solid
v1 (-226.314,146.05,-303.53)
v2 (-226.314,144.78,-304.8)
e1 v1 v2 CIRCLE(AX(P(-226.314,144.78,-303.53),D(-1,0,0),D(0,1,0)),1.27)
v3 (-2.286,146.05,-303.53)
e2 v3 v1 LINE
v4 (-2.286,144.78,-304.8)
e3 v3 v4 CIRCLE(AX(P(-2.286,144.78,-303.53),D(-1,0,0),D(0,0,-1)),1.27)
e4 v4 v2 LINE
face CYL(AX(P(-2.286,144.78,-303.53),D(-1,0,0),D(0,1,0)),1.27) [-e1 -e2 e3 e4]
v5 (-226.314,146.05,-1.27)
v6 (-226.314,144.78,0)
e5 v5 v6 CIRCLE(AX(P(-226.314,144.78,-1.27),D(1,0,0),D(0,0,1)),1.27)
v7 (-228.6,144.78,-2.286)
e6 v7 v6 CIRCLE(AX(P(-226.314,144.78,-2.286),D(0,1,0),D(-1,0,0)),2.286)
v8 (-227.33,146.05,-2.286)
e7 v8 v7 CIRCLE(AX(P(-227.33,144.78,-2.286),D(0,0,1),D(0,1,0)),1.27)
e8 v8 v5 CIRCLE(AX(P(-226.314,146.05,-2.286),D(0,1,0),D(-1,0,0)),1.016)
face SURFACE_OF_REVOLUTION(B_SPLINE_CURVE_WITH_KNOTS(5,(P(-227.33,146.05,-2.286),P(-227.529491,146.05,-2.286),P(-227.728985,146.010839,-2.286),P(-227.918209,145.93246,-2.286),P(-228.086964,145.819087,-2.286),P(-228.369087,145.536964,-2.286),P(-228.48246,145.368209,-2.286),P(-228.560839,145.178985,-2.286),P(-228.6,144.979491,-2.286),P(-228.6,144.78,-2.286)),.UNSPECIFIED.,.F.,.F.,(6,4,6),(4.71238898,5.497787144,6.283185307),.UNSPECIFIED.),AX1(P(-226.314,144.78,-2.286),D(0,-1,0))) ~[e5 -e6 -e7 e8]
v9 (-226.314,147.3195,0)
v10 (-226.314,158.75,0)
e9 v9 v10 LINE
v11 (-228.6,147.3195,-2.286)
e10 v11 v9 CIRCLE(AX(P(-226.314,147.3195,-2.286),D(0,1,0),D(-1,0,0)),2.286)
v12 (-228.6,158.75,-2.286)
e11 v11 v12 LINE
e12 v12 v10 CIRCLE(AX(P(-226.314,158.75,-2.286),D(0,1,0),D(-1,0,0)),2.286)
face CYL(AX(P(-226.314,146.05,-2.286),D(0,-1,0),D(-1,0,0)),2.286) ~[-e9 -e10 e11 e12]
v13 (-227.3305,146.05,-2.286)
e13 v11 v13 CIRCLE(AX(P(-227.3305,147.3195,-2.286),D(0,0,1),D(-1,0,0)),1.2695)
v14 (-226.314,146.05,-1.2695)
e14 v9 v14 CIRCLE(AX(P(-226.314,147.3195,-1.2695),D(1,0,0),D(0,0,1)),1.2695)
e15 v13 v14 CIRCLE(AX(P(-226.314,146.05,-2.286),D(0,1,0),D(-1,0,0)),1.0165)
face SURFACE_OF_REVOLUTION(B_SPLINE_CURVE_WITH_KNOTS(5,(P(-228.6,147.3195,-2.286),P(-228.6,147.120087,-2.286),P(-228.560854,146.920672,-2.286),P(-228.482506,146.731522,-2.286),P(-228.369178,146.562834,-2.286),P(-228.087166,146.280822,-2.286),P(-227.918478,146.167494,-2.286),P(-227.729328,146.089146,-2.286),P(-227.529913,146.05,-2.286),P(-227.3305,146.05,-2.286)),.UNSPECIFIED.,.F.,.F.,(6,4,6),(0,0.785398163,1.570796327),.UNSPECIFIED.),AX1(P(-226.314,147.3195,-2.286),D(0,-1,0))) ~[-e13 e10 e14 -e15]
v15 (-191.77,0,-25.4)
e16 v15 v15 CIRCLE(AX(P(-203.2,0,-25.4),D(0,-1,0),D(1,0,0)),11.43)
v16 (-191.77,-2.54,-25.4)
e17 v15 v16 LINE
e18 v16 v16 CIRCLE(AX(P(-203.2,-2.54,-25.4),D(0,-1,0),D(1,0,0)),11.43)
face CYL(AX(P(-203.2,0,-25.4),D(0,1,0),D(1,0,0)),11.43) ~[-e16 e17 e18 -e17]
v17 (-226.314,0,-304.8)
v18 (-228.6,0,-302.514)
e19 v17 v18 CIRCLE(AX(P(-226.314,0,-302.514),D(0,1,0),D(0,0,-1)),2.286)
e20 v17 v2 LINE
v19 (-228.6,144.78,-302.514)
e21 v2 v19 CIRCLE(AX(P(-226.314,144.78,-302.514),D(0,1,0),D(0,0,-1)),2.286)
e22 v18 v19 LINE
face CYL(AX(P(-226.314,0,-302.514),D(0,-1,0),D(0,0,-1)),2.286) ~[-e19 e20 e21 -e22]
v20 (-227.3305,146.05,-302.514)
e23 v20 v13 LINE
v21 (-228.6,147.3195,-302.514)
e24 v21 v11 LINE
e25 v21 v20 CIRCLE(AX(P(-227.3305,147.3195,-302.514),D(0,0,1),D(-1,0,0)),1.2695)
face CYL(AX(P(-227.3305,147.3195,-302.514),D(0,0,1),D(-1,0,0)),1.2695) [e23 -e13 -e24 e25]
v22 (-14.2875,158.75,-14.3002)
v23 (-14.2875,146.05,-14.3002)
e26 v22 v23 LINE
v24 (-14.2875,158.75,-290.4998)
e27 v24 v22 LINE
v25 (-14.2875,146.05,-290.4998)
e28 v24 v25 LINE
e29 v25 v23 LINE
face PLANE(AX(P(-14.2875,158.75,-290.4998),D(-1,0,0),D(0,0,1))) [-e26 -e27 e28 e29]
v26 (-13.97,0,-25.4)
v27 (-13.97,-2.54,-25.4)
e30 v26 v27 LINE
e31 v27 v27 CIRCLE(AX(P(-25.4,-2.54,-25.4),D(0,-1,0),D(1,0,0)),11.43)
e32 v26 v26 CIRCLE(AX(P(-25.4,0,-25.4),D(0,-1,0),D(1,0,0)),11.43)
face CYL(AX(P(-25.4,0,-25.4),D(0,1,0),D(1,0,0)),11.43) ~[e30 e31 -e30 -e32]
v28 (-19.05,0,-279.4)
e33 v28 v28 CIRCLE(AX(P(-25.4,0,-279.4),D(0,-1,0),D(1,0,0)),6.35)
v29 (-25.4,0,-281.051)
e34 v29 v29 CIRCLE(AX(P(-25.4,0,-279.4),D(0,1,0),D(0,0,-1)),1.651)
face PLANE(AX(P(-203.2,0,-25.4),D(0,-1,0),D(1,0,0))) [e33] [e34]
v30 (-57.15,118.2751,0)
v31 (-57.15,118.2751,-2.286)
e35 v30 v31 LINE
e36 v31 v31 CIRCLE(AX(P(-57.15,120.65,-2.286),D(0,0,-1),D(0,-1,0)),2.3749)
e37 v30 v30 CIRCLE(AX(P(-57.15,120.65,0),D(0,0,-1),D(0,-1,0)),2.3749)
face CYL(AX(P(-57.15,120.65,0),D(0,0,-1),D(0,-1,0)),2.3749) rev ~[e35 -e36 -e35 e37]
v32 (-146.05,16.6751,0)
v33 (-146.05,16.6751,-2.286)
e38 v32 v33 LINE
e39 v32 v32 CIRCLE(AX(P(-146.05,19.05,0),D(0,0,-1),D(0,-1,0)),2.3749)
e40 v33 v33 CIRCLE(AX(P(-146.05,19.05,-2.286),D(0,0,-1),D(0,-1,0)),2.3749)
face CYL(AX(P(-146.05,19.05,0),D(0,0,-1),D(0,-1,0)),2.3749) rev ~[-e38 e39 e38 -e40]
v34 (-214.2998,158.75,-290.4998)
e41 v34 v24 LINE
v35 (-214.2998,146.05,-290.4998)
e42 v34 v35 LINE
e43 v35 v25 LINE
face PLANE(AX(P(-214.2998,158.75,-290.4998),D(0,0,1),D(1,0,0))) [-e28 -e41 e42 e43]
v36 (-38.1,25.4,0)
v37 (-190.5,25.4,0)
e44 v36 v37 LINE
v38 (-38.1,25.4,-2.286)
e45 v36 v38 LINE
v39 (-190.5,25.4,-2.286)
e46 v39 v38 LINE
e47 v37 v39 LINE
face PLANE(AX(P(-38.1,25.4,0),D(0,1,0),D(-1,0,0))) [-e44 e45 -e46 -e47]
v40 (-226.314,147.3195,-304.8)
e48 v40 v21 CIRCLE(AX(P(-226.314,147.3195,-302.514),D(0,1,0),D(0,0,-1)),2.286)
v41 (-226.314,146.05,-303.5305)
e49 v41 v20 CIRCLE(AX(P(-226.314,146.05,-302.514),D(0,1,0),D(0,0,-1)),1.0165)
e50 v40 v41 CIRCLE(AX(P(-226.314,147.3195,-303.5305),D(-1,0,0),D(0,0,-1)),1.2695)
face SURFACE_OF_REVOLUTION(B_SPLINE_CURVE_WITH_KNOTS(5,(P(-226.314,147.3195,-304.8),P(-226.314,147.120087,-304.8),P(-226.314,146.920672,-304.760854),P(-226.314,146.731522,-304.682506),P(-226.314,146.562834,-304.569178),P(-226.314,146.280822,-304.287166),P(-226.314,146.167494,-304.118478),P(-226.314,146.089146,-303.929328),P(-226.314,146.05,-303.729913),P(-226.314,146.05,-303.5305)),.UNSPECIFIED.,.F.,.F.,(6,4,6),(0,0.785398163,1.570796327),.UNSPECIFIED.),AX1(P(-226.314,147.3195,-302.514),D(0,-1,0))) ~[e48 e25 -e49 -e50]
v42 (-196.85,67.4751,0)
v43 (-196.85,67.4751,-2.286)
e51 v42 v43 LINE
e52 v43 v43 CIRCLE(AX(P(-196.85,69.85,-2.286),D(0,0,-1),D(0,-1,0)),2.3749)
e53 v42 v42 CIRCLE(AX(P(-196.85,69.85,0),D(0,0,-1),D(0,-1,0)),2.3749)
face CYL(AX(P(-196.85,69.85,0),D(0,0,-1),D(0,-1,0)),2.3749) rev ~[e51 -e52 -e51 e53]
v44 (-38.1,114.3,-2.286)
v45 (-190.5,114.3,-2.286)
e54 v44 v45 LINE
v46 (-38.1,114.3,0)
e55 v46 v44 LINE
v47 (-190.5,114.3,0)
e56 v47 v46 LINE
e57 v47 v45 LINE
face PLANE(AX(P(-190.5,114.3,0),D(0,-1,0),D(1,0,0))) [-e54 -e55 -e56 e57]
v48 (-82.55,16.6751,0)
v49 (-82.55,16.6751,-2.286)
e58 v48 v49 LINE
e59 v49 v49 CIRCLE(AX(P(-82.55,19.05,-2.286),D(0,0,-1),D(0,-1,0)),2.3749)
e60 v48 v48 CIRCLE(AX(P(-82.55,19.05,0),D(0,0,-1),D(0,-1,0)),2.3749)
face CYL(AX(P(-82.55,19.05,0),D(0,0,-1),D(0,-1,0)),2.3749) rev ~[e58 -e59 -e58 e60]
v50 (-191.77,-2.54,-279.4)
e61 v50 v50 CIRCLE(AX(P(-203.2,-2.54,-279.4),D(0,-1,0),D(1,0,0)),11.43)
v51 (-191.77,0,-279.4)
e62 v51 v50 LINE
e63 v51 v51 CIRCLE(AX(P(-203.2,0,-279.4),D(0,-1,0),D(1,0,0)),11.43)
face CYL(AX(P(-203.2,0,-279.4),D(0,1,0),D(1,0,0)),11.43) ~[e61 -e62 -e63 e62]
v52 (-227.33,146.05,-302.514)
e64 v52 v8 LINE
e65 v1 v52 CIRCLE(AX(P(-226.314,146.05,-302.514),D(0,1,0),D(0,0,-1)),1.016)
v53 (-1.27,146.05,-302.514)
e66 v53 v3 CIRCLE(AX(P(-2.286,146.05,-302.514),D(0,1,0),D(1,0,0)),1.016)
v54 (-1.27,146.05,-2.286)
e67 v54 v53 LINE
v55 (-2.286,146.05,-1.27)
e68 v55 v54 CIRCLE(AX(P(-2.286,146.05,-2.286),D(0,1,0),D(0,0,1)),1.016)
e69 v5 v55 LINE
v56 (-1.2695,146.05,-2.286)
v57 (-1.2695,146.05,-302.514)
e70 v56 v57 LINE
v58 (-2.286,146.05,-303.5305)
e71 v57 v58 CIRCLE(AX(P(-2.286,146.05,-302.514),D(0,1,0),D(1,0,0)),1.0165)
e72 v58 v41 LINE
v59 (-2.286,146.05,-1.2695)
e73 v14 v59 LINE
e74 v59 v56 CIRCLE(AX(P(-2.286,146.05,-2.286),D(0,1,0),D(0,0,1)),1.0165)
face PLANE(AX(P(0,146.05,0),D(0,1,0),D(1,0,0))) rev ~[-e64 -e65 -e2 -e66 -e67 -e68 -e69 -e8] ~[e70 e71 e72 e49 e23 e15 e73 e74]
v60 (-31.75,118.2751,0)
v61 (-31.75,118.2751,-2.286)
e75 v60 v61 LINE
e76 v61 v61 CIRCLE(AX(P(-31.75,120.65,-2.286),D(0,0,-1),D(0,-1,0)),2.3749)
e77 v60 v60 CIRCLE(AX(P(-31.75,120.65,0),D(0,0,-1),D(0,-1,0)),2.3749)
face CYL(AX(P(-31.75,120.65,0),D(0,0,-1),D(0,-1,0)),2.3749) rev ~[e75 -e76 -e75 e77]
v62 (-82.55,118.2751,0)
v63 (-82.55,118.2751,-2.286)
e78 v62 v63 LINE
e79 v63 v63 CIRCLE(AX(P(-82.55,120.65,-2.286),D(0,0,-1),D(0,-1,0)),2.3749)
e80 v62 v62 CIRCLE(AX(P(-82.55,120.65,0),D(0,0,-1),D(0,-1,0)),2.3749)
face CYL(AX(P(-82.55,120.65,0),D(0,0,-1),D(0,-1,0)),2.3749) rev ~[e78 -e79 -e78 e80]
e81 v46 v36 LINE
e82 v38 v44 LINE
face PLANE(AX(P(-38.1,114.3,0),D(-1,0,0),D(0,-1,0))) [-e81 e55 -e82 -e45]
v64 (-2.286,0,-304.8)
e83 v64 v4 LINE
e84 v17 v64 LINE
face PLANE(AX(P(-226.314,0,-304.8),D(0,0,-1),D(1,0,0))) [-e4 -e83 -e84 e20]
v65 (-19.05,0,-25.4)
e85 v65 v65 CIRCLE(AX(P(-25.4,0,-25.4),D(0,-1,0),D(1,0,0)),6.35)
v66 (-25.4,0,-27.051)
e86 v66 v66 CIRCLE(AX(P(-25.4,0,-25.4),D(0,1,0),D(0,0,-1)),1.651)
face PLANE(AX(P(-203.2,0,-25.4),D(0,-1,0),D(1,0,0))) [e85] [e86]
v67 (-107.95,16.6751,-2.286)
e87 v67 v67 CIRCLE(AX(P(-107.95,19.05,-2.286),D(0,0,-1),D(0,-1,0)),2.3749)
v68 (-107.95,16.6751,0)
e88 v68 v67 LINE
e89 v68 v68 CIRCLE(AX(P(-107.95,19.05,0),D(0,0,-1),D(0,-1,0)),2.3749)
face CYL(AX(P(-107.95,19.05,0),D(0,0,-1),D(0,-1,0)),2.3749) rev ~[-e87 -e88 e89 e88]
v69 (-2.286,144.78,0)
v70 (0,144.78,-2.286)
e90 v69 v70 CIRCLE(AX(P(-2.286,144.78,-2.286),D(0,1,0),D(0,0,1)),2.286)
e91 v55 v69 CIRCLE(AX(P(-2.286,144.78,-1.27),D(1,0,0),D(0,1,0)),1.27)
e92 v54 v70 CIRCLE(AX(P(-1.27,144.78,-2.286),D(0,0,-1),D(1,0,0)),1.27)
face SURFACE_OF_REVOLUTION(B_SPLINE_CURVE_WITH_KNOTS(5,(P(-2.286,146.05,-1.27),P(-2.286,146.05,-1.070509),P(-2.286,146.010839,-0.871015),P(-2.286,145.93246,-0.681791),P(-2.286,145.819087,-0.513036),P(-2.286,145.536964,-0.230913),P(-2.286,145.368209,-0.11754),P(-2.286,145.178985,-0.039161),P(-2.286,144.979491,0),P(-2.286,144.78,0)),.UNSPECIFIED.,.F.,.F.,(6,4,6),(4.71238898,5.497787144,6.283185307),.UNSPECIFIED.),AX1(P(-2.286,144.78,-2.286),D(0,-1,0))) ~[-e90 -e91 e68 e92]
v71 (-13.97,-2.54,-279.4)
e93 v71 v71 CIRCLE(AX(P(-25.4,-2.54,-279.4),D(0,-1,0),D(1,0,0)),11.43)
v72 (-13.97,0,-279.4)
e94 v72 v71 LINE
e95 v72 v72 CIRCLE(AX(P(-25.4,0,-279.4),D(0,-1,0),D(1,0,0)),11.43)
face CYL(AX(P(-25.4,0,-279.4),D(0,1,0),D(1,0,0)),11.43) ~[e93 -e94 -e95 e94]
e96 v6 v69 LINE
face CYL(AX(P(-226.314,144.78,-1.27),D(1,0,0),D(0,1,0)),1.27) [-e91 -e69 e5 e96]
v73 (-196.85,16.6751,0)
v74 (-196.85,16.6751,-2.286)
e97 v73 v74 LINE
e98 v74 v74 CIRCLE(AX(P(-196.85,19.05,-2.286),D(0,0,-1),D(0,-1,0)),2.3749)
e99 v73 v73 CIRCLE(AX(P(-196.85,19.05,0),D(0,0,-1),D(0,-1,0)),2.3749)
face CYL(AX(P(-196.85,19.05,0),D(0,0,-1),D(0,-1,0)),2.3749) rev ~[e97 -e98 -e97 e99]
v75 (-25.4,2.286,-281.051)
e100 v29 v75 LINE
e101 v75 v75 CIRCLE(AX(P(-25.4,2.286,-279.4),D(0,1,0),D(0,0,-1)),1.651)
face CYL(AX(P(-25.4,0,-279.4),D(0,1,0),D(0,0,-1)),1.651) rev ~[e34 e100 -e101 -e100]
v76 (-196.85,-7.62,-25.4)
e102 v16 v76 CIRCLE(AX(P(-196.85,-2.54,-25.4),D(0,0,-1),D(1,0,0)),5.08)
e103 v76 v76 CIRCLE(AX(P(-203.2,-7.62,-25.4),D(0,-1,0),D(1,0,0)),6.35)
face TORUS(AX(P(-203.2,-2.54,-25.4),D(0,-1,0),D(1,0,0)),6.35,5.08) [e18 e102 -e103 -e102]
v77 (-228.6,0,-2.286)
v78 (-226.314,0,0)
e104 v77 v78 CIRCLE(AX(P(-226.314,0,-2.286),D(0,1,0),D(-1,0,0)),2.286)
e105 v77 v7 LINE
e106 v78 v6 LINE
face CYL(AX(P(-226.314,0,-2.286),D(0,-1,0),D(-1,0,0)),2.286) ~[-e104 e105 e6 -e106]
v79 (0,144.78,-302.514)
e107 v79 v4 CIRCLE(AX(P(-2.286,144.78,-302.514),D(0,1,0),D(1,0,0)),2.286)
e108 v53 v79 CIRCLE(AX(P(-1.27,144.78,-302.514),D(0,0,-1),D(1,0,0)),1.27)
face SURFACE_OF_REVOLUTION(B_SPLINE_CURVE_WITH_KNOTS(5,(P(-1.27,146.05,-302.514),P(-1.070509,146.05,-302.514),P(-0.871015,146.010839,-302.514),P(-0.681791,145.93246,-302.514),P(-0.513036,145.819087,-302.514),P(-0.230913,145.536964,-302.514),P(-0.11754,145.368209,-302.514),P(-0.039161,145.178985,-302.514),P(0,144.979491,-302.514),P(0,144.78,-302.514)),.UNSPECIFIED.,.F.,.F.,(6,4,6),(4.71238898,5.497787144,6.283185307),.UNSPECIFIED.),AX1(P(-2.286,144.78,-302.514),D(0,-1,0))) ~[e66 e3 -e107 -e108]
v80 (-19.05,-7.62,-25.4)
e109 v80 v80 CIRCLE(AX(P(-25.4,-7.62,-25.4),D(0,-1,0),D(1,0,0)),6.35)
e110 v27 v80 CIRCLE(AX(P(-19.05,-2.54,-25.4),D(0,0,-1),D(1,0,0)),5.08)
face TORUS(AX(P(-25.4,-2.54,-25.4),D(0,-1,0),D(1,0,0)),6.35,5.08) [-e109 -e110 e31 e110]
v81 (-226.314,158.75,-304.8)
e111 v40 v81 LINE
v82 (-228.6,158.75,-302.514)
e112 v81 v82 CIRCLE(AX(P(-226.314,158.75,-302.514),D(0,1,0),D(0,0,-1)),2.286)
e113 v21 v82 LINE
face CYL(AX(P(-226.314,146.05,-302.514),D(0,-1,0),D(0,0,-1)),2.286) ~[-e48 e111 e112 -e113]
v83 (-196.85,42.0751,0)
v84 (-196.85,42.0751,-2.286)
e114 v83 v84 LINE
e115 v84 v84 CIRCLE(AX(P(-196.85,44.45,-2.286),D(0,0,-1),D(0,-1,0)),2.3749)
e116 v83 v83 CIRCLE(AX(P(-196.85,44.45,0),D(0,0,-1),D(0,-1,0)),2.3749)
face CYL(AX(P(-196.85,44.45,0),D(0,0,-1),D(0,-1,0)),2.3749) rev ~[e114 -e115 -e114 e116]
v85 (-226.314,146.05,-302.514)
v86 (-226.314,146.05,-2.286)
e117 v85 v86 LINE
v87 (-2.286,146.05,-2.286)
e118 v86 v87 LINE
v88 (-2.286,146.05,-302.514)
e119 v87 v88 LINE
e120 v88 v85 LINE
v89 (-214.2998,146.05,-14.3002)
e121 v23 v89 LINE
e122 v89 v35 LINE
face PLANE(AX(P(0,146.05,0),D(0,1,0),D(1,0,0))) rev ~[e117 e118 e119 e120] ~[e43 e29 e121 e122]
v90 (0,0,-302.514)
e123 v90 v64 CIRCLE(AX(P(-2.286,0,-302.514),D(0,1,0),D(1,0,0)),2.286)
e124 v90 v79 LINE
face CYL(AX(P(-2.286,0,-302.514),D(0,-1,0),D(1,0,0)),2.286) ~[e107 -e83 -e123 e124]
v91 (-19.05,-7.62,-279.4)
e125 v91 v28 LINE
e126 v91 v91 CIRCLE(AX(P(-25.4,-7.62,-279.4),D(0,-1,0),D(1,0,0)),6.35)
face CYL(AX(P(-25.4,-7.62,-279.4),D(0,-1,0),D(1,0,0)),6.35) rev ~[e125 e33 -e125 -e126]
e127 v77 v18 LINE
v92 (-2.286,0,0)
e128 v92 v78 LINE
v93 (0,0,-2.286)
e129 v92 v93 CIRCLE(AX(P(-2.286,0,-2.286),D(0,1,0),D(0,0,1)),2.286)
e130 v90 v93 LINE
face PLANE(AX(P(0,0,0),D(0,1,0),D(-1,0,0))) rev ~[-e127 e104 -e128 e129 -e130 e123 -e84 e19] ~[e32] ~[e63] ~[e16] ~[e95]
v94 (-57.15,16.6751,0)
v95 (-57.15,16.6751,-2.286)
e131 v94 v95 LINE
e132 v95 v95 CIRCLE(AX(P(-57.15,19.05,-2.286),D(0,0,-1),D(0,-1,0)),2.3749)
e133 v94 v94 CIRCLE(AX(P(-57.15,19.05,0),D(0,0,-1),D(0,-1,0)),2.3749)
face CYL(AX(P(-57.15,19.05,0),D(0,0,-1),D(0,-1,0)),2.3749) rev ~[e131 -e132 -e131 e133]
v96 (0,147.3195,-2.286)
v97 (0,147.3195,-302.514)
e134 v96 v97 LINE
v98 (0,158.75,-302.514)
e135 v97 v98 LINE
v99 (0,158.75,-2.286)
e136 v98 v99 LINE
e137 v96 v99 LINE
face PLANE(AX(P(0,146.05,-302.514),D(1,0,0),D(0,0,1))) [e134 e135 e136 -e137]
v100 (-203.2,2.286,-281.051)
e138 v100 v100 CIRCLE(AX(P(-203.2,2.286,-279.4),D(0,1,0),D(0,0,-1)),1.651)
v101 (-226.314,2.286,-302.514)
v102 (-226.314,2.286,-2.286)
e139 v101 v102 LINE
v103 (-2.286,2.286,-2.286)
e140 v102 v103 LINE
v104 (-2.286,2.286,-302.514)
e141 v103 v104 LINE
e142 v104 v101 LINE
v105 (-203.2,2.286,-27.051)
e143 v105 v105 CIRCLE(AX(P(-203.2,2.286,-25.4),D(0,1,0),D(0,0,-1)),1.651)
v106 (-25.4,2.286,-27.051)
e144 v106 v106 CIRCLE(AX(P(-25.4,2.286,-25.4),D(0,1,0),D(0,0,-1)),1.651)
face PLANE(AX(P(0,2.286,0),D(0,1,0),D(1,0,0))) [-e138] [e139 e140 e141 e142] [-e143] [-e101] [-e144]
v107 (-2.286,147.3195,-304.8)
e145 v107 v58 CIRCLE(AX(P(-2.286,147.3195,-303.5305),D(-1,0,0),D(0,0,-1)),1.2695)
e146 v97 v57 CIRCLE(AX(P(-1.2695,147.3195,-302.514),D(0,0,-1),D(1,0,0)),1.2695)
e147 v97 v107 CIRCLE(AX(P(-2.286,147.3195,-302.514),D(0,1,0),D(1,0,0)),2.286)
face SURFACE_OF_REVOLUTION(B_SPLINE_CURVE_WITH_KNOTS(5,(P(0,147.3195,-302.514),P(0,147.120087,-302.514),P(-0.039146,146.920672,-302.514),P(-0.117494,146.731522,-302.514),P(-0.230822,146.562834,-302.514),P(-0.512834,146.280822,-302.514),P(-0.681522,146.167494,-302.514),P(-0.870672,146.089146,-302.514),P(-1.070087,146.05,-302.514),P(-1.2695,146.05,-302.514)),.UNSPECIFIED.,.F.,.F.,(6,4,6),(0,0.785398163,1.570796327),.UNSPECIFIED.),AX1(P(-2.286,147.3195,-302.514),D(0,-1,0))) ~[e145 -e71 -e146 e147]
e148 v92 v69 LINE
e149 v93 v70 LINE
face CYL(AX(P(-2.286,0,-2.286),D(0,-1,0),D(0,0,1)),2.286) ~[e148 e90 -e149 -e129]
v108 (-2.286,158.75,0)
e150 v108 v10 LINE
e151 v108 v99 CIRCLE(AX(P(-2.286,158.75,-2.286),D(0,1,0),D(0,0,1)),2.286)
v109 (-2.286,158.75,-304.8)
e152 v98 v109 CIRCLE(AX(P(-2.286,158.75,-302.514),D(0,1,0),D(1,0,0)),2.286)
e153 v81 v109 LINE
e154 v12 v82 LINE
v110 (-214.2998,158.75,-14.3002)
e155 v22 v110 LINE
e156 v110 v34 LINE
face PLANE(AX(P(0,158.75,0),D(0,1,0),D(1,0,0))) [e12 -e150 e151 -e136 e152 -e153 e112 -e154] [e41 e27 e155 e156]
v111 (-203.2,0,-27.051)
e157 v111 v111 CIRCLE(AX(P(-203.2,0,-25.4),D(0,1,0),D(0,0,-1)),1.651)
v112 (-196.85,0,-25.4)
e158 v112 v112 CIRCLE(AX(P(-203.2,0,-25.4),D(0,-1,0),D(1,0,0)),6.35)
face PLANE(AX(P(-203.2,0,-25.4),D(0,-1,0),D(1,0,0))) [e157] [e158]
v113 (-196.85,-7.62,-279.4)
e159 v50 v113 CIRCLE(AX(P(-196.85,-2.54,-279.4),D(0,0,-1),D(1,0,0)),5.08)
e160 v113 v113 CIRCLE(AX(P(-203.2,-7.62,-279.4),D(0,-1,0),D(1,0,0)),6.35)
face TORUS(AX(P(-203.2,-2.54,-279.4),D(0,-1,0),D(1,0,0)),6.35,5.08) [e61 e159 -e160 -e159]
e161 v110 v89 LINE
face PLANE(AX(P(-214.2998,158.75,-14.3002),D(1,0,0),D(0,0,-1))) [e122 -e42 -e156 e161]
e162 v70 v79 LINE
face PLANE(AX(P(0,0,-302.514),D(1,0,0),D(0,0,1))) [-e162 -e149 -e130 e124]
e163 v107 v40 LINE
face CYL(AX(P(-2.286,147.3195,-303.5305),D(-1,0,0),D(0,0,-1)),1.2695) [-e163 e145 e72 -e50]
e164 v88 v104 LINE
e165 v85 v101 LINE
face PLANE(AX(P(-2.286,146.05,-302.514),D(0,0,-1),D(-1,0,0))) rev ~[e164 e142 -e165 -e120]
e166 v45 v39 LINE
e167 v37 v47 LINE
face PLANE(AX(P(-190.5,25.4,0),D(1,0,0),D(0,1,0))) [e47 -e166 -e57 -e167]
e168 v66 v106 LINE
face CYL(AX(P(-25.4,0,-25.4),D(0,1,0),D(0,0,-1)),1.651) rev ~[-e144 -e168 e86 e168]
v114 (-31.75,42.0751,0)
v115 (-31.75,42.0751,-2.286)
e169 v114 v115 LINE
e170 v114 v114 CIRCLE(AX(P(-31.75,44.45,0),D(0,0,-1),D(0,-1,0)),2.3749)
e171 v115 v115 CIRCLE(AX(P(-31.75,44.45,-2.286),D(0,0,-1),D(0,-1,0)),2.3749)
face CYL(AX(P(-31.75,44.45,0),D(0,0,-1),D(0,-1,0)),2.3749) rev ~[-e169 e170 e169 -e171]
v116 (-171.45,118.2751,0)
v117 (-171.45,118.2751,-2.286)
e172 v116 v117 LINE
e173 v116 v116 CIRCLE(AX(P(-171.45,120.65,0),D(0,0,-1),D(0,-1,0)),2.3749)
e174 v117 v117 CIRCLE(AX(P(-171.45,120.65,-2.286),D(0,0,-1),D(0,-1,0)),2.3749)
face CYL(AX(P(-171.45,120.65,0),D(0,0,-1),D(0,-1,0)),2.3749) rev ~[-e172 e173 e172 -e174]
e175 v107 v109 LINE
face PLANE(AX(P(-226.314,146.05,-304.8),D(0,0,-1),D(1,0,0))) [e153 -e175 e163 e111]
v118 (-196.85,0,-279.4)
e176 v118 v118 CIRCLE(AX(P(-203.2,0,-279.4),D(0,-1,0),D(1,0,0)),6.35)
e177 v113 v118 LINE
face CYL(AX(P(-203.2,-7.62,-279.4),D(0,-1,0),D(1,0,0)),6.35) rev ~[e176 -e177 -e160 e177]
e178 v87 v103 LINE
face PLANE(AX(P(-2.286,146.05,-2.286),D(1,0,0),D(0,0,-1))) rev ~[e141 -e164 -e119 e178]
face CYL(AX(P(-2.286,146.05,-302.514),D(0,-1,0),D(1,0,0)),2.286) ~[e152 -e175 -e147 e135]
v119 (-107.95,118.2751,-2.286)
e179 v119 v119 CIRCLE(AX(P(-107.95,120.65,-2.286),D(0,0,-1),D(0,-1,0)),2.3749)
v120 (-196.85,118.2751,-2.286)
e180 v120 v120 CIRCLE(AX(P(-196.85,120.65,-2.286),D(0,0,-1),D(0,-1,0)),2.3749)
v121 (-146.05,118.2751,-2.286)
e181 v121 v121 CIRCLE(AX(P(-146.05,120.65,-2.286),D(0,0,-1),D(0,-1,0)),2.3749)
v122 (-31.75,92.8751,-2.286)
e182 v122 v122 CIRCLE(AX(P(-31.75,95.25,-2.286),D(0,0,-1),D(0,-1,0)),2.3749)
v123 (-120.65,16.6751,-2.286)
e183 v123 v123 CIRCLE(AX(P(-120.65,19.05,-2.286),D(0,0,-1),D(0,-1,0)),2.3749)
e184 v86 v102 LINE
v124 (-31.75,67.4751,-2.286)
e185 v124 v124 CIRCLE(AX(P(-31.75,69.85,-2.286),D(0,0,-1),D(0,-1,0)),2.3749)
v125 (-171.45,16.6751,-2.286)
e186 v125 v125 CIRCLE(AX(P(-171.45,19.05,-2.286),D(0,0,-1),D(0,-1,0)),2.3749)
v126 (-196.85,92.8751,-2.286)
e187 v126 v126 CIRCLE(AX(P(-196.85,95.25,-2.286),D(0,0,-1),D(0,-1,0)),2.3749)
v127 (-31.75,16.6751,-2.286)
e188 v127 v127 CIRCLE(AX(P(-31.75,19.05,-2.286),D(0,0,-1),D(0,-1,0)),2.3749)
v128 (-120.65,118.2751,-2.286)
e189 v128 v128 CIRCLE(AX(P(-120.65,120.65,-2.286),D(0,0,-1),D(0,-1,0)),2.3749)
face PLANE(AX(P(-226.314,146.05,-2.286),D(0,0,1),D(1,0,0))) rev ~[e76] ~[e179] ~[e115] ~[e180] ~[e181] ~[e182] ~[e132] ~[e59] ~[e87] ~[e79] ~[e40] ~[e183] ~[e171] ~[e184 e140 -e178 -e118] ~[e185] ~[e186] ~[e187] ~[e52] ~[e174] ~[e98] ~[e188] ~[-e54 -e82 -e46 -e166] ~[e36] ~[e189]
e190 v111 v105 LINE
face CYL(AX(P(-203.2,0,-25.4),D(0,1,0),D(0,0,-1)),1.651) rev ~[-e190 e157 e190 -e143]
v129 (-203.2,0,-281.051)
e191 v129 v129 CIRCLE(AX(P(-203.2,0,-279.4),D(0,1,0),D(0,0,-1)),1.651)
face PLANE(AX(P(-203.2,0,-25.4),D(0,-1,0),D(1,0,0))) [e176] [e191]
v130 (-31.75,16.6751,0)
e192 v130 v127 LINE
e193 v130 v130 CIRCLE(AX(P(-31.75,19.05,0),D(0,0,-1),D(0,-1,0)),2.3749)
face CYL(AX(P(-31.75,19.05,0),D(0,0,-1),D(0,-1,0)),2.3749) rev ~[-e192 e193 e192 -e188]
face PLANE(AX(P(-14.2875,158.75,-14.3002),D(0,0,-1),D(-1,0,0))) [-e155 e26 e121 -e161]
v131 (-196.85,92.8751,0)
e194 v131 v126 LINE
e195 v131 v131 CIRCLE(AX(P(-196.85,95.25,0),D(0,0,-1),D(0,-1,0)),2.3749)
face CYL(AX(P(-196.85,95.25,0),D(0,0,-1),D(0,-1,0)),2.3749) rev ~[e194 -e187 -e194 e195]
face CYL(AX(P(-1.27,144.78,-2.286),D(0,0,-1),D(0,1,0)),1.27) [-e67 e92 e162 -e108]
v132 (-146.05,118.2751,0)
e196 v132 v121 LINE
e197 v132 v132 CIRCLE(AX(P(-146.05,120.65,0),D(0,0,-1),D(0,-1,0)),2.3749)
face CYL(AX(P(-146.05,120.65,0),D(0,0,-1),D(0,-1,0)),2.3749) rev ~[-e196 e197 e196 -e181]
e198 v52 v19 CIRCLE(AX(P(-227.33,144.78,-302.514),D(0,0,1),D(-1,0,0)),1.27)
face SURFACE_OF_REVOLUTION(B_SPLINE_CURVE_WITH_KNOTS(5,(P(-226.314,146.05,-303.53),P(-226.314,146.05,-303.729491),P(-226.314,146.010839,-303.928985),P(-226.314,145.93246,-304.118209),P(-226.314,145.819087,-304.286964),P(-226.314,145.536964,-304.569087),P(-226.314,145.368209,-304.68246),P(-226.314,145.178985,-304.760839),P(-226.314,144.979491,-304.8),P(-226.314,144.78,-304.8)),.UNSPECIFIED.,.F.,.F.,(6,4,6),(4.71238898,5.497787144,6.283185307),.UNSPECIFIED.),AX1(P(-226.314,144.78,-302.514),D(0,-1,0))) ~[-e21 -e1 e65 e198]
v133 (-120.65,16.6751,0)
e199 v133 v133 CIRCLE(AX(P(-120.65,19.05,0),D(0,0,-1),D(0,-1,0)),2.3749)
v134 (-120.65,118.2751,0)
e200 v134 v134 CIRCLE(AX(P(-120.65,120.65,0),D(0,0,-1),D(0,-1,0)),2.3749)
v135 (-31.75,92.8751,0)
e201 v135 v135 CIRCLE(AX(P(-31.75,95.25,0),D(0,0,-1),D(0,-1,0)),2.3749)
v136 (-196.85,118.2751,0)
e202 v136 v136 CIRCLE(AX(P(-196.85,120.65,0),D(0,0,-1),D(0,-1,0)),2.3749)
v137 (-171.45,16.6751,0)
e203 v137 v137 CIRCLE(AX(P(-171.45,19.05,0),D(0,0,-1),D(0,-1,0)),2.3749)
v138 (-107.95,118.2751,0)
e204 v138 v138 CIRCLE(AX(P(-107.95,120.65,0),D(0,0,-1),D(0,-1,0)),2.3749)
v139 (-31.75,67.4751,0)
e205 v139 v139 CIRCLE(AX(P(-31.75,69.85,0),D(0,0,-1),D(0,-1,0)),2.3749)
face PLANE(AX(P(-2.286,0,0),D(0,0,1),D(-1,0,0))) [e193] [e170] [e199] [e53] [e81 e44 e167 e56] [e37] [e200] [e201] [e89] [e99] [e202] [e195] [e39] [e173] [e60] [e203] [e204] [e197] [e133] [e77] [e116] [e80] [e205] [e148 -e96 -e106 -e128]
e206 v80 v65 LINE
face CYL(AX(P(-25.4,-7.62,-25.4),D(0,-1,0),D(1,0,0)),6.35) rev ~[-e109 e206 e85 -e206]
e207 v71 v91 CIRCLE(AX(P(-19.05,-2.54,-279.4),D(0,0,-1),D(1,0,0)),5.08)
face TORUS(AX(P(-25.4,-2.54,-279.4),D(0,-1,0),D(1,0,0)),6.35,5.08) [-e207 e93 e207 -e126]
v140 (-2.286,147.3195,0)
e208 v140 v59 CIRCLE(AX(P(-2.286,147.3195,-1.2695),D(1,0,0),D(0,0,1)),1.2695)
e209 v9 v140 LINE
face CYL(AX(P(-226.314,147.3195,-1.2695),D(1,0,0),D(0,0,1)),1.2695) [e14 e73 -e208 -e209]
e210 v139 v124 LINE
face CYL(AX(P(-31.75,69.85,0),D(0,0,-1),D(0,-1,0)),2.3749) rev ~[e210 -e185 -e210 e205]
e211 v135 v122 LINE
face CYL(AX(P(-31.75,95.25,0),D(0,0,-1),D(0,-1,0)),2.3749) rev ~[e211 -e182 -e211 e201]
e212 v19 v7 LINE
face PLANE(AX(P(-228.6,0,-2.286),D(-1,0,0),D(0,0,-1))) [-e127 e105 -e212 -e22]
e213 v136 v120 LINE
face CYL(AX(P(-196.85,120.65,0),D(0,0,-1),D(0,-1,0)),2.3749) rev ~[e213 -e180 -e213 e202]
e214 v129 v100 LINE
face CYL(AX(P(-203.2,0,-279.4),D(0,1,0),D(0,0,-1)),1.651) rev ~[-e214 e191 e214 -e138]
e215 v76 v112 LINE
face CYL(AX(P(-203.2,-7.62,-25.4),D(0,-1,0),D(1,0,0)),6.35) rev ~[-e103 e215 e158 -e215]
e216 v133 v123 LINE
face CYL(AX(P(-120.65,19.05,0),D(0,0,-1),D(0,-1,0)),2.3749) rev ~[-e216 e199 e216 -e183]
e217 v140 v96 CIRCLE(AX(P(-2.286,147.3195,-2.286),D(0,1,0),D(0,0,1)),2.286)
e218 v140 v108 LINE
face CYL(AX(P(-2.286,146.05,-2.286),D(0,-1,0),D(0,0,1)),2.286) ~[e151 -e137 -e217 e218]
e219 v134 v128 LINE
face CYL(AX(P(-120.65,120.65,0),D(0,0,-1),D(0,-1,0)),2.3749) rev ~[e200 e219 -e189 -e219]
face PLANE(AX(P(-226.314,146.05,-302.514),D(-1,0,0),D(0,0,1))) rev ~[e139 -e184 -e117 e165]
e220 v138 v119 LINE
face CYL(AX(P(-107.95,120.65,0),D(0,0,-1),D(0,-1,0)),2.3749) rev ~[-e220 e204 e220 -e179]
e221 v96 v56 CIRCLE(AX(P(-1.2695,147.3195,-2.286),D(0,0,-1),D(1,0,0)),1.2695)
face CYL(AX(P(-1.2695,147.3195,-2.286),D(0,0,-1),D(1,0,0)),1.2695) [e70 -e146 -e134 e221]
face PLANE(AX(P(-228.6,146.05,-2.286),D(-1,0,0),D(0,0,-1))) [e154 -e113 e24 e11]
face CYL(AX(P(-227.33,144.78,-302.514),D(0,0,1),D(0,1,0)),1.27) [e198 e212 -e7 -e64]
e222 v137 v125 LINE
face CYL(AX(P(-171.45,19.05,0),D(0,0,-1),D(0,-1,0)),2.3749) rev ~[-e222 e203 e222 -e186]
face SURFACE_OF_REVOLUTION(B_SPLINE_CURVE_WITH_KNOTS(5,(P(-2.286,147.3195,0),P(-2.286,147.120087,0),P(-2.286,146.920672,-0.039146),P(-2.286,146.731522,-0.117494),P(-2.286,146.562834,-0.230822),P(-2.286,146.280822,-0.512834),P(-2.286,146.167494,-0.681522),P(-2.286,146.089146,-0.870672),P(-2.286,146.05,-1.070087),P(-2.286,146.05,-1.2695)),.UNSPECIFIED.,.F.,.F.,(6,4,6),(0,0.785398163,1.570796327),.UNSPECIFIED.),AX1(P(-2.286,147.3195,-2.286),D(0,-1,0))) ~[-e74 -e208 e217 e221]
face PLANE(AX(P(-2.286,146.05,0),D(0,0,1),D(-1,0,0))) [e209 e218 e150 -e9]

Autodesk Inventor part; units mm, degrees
ref_plane "YZ Plane" through (0, 0, 0) normal (1, 0, 0) x (0, 1, 0)
ref_plane "XZ Plane" through (0, 0, 0) normal (0, 1, 0) x (-1, 0, 0)
ref_plane "XY Plane" through (0, 0, 0) normal (0, 0, 1) x (1, 0, 0)
sketch "Sketch1" plane through (0, 0, 0) normal (0, 1, 0) x (-1, 0, 0)
  line L0 (2.286, 0) -> (226.314, 0)
  line L1 (228.6, -2.286) -> (228.6, -302.514)
  line L2 (226.314, -304.8) -> (2.286, -304.8)
  line L3 (0, -302.514) -> (0, -2.286)
  arc A0 (228.6, -2.286) -> (226.314, 0) centre (226.314, -2.286) ccw
  arc A1 (226.314, -304.8) -> (228.6, -302.514) centre (226.314, -302.514) ccw
  arc A2 (0, -302.514) -> (2.286, -304.8) centre (2.286, -302.514) ccw
  arc A3 (2.286, 0) -> (0, -2.286) centre (2.286, -2.286) ccw
  point P0 (0, 0)
  point P1 (228.6, -304.8)
  point P2 (228.6, 0)
  dimension "d0" = 304.8
  dimension "d1" = 228.6
  dimension "d2" = 2.286
  dimension "d3" = 2.286
extrude "Extrusion1" add sketch "Sketch1" along normal blind 146.05
sketch "Sketch3" plane through (0, 146.05, 0) normal (0, 1, 0) x (1, 0, 0)
  line L0 (-226.314, 2.286) -> (-2.286, 2.286)
  line L1 (-2.286, 2.286) -> (-2.286, 302.514)
  line L2 (-2.286, 302.514) -> (-226.314, 302.514)
  line L3 (-226.314, 302.514) -> (-226.314, 2.286)
  line L4 (-226.314, 0) -> (-2.286, 0) projected
  line L5 (-228.6, 302.514) -> (-228.6, 2.286) projected
  line L6 (-2.286, 304.8) -> (-226.314, 304.8) projected
  line L7 (0, 2.286) -> (0, 302.514) projected
  point P0 (0, 0)
  dimension "d6" = 2.286
  dimension "d7" = 2.286
  dimension "d8" = 2.286
  dimension "d9" = 2.286
extrude "Extrusion2" cut sketch "Sketch3" against normal blind 143.764
sketch "Sketch4" plane through (-226.314, 0, 0) normal (0, 0, 1) x (1, 0, 0)
  line L0 (35.814, 114.3) -> (188.214, 114.3)
  line L1 (188.214, 114.3) -> (188.214, 25.4)
  line L2 (188.214, 25.4) -> (35.814, 25.4)
  line L3 (35.814, 25.4) -> (35.814, 114.3)
  line L4 (226.314, 0) -> (226.314, 146.05) projected
  line L5 (0, 0) -> (224.028, 0) projected
  dimension "d12" = 88.9
  dimension "d13" = 152.4
  dimension "d14" = 38.1
  dimension "d15" = 25.4
extrude "Extrusion3" cut sketch "Sketch4" against normal up to next
sketch "Sketch5" plane through (0, 146.05, 0) normal (0, 1, 0) x (1, 0, 0)
  line L0 (-2.286, 0) -> (-226.314, 0)
  line L1 (-228.6, 2.286) -> (-228.6, 302.514)
  line L2 (-226.314, 304.8) -> (-2.286, 304.8)
  line L3 (0, 302.514) -> (0, 2.286)
  arc A0 (-226.314, 304.8) -> (-228.6, 302.514) centre (-226.314, 302.514) ccw
  arc A1 (0, 302.514) -> (-2.286, 304.8) centre (-2.286, 302.514) ccw
  arc A2 (-2.286, 0) -> (0, 2.286) centre (-2.286, 2.286) ccw
  arc A3 (-228.6, 2.286) -> (-226.314, 0) centre (-226.314, 2.286) ccw
  point P0 (0, 0)
  point P1 (-228.6, 304.8)
  point P2 (-228.6, 0)
  point P3 (0, 304.8)
  dimension "d18" = 228.6
  dimension "d19" = 304.8
  dimension "d20" = 2.286
fillet "Fillet1" radius 1.27 8 edges at (-0.6696, 146.05, -304.1304) (-114.3, 146.05, -304.8) (-227.9304, 146.05, -304.1304) (-228.6, 146.05, -152.4) (-227.9304, 146.05, -0.6696) (-114.3, 146.05, 0) (-0.6696, 146.05, -0.6696) (0, 146.05, -152.4)
extrude "Extrusion5" add sketch "Sketch5" along normal blind 12.7
fillet "Fillet2" radius 1.27 8 edges at (-0.6696, 146.05, -0.6696) (0, 146.05, -152.4) (-0.6696, 146.05, -304.1304) (-114.3, 146.05, -304.8) (-227.9304, 146.05, -304.1304) (-228.6, 146.05, -152.4) (-227.9304, 146.05, -0.6696) (-114.3, 146.05, 0)
sketch "Sketch6" plane through (0, 158.75, 0) normal (0, 1, 0) x (1, 0, 0)
  line L0 (-214.2998, 290.4998) -> (-14.2875, 290.4998)
  line L1 (-14.2875, 290.4998) -> (-14.2875, 14.3002)
  line L2 (-14.2875, 14.3002) -> (-214.2998, 14.3002)
  line L3 (-214.2998, 14.3002) -> (-214.2998, 290.4998)
  line L4 (0, 2.286) -> (0, 302.514) projected
  line L5 (-226.314, 0) -> (-2.286, 0) projected
  line L6 (-228.6, 302.514) -> (-228.6, 2.286) projected
  line L7 (-2.286, 304.8) -> (-226.314, 304.8) projected
  point P0 (0, 0)
  dimension "d27" = 14.2875
  dimension "d28" = 14.3002
  dimension "d29" = 14.3002
  dimension "d30" = 14.3002
extrude "Extrusion6" cut sketch "Sketch6" against normal blind 12.7
sketch "Sketch7" plane through (-226.314, 0, 0) normal (0, 0, 1) x (1, 0, 0)
  line L0 (35.814, 114.3) -> (188.214, 114.3) projected
  line L1 (188.214, 114.3) -> (188.214, 25.4) projected
  line L2 (35.814, 25.4) -> (35.814, 114.3) projected
  line L3 (188.214, 25.4) -> (35.814, 25.4) projected
  point P0 (226.314, 0)
  point P1 (105.664, 120.65)
  point P2 (118.364, 120.65)
  point P3 (143.764, 120.65)
  point P4 (169.164, 120.65)
  point P5 (194.564, 120.65)
  point P6 (80.264, 120.65)
  point P7 (54.864, 120.65)
  point P8 (29.464, 120.65)
  point P9 (29.464, 95.25)
  point P10 (29.464, 69.85)
  point P11 (29.464, 44.45)
  point P12 (29.464, 19.05)
  point P13 (54.864, 19.05)
  point P14 (80.264, 19.05)
  point P15 (105.664, 19.05)
  point P16 (118.364, 19.05)
  point P17 (143.764, 19.05)
  point P18 (169.164, 19.05)
  point P19 (194.564, 19.05)
  point P20 (194.564, 44.45)
  point P21 (194.564, 69.85)
  point P22 (194.564, 95.25)
  dimension "d33" = 6.35
  dimension "d34" = 25.4
  dimension "d35" = 25.4
  dimension "d36" = 25.4
  dimension "d37" = 6.35
  dimension "d38" = 6.35
  dimension "d39" = 25.4
  dimension "d40" = 25.4
  dimension "d41" = 25.4
  dimension "d42" = 6.35
  dimension "d43" = 25.4
  dimension "d44" = 25.4
  dimension "d45" = 25.4
  dimension "d46" = 25.4
hole "Hole1" at (-120.65, 120.65, 0) at (-107.95, 120.65, 0) at (-82.55, 120.65, 0) at (-57.15, 120.65, 0) at (-31.75, 120.65, 0) at (-146.05, 120.65, 0) at (-171.45, 120.65, 0) at (-196.85, 120.65, 0) at (-196.85, 95.25, 0) at (-196.85, 69.85, 0) at (-196.85, 44.45, 0) at (-196.85, 19.05, 0) at (-171.45, 19.05, 0) at (-146.05, 19.05, 0) at (-120.65, 19.05, 0) at (-107.95, 19.05, 0) at (-82.55, 19.05, 0) at (-57.15, 19.05, 0) at (-31.75, 19.05, 0) at (-31.75, 44.45, 0) at (-31.75, 69.85, 0) at (-31.75, 95.25, 0) direction (0, 0, -1) diameter 4.7498 depth 2.286
sketch "Sketch8" plane through (0, 0, 0) normal (0, -1, 0) x (1, 0, 0)
  line L0 (-226.314, 0) -> (-2.286, 0) projected
  line L1 (-228.6, -302.514) -> (-228.6, -2.286) projected
  line L2 (0, -2.286) -> (0, -302.514) projected
  line L3 (-2.286, -304.8) -> (-226.314, -304.8) projected
  point P0 (0, 0)
  point P1 (-203.2, -25.4)
  point P2 (-25.4, -25.4)
  point P3 (-25.4, -279.4)
  point P4 (-203.2, -279.4)
  dimension "d54" = 25.4
  dimension "d55" = 25.4
  dimension "d56" = 25.4
  dimension "d57" = 25.4
  dimension "d58" = 25.4
  dimension "d59" = 25.4
hole "Hole2" at (-203.2, 0, -25.4) at (-25.4, 0, -25.4) at (-25.4, 0, -279.4) at (-203.2, 0, -279.4) direction (0, 1, 0) diameter 3.302 depth 2.286 thread size "8-32 UNC" class "2B" standard "ANSI Unified Screw Threads"
sketch "Sketch9" plane through (0, 0, 0) normal (0, -1, 0) x (1, 0, 0)
  circle A0 centre (-203.2, -25.4) radius 1.651 projected
  circle A1 centre (-203.2, -25.4) radius 11.43
  circle A2 centre (-25.4, -25.4) radius 1.651 projected
  circle A3 centre (-25.4, -25.4) radius 11.43
  circle A4 centre (-203.2, -279.4) radius 1.651 projected
  circle A5 centre (-203.2, -279.4) radius 11.43
  circle A6 centre (-25.4, -279.4) radius 1.651 projected
  circle A7 centre (-25.4, -279.4) radius 11.43
  point P0 (0, 0)
  dimension "d67" = 22.86
  dimension "d68" = 22.86
  dimension "d69" = 22.86
  dimension "d70" = 22.86
extrude "Extrusion7" add sketch "Sketch9" along normal blind 7.62 contours A0 | A1 | A3 | A4 | A5 | A7
fillet "Fillet3" radius 5.08 4 edges at (-214.63, -7.62, -25.4) (-36.83, -7.62, -25.4) (-36.83, -7.62, -279.4) (-214.63, -7.62, -279.4)
sketch "Sketch12" plane through (-203.2, -7.62, -25.4) normal (0, -1, 0) x (1, 0, 0)
  circle A0 centre (0, 0) radius 1.651 projected
  circle A1 centre (0, 0) radius 6.35
  circle A2 centre (177.8, 0) radius 1.651 projected
  circle A3 centre (177.8, 0) radius 6.35
  circle A4 centre (0, -254) radius 1.651 projected
  circle A5 centre (0, -254) radius 6.35
  circle A6 centre (177.8, -254) radius 1.651 projected
  circle A7 centre (177.8, -254) radius 6.35
  point P0 (203.2, 25.4)
  dimension "d74" = 12.7
  dimension "d75" = 12.7
  dimension "d76" = 12.7
  dimension "d77" = 12.7
extrude "Extrusion8" cut sketch "Sketch12" against normal blind 7.62 contours A0 | A1 | A2 | A3 | A4 | A5 | A6 | A7
properties part number "EMI-Filter-Box"
